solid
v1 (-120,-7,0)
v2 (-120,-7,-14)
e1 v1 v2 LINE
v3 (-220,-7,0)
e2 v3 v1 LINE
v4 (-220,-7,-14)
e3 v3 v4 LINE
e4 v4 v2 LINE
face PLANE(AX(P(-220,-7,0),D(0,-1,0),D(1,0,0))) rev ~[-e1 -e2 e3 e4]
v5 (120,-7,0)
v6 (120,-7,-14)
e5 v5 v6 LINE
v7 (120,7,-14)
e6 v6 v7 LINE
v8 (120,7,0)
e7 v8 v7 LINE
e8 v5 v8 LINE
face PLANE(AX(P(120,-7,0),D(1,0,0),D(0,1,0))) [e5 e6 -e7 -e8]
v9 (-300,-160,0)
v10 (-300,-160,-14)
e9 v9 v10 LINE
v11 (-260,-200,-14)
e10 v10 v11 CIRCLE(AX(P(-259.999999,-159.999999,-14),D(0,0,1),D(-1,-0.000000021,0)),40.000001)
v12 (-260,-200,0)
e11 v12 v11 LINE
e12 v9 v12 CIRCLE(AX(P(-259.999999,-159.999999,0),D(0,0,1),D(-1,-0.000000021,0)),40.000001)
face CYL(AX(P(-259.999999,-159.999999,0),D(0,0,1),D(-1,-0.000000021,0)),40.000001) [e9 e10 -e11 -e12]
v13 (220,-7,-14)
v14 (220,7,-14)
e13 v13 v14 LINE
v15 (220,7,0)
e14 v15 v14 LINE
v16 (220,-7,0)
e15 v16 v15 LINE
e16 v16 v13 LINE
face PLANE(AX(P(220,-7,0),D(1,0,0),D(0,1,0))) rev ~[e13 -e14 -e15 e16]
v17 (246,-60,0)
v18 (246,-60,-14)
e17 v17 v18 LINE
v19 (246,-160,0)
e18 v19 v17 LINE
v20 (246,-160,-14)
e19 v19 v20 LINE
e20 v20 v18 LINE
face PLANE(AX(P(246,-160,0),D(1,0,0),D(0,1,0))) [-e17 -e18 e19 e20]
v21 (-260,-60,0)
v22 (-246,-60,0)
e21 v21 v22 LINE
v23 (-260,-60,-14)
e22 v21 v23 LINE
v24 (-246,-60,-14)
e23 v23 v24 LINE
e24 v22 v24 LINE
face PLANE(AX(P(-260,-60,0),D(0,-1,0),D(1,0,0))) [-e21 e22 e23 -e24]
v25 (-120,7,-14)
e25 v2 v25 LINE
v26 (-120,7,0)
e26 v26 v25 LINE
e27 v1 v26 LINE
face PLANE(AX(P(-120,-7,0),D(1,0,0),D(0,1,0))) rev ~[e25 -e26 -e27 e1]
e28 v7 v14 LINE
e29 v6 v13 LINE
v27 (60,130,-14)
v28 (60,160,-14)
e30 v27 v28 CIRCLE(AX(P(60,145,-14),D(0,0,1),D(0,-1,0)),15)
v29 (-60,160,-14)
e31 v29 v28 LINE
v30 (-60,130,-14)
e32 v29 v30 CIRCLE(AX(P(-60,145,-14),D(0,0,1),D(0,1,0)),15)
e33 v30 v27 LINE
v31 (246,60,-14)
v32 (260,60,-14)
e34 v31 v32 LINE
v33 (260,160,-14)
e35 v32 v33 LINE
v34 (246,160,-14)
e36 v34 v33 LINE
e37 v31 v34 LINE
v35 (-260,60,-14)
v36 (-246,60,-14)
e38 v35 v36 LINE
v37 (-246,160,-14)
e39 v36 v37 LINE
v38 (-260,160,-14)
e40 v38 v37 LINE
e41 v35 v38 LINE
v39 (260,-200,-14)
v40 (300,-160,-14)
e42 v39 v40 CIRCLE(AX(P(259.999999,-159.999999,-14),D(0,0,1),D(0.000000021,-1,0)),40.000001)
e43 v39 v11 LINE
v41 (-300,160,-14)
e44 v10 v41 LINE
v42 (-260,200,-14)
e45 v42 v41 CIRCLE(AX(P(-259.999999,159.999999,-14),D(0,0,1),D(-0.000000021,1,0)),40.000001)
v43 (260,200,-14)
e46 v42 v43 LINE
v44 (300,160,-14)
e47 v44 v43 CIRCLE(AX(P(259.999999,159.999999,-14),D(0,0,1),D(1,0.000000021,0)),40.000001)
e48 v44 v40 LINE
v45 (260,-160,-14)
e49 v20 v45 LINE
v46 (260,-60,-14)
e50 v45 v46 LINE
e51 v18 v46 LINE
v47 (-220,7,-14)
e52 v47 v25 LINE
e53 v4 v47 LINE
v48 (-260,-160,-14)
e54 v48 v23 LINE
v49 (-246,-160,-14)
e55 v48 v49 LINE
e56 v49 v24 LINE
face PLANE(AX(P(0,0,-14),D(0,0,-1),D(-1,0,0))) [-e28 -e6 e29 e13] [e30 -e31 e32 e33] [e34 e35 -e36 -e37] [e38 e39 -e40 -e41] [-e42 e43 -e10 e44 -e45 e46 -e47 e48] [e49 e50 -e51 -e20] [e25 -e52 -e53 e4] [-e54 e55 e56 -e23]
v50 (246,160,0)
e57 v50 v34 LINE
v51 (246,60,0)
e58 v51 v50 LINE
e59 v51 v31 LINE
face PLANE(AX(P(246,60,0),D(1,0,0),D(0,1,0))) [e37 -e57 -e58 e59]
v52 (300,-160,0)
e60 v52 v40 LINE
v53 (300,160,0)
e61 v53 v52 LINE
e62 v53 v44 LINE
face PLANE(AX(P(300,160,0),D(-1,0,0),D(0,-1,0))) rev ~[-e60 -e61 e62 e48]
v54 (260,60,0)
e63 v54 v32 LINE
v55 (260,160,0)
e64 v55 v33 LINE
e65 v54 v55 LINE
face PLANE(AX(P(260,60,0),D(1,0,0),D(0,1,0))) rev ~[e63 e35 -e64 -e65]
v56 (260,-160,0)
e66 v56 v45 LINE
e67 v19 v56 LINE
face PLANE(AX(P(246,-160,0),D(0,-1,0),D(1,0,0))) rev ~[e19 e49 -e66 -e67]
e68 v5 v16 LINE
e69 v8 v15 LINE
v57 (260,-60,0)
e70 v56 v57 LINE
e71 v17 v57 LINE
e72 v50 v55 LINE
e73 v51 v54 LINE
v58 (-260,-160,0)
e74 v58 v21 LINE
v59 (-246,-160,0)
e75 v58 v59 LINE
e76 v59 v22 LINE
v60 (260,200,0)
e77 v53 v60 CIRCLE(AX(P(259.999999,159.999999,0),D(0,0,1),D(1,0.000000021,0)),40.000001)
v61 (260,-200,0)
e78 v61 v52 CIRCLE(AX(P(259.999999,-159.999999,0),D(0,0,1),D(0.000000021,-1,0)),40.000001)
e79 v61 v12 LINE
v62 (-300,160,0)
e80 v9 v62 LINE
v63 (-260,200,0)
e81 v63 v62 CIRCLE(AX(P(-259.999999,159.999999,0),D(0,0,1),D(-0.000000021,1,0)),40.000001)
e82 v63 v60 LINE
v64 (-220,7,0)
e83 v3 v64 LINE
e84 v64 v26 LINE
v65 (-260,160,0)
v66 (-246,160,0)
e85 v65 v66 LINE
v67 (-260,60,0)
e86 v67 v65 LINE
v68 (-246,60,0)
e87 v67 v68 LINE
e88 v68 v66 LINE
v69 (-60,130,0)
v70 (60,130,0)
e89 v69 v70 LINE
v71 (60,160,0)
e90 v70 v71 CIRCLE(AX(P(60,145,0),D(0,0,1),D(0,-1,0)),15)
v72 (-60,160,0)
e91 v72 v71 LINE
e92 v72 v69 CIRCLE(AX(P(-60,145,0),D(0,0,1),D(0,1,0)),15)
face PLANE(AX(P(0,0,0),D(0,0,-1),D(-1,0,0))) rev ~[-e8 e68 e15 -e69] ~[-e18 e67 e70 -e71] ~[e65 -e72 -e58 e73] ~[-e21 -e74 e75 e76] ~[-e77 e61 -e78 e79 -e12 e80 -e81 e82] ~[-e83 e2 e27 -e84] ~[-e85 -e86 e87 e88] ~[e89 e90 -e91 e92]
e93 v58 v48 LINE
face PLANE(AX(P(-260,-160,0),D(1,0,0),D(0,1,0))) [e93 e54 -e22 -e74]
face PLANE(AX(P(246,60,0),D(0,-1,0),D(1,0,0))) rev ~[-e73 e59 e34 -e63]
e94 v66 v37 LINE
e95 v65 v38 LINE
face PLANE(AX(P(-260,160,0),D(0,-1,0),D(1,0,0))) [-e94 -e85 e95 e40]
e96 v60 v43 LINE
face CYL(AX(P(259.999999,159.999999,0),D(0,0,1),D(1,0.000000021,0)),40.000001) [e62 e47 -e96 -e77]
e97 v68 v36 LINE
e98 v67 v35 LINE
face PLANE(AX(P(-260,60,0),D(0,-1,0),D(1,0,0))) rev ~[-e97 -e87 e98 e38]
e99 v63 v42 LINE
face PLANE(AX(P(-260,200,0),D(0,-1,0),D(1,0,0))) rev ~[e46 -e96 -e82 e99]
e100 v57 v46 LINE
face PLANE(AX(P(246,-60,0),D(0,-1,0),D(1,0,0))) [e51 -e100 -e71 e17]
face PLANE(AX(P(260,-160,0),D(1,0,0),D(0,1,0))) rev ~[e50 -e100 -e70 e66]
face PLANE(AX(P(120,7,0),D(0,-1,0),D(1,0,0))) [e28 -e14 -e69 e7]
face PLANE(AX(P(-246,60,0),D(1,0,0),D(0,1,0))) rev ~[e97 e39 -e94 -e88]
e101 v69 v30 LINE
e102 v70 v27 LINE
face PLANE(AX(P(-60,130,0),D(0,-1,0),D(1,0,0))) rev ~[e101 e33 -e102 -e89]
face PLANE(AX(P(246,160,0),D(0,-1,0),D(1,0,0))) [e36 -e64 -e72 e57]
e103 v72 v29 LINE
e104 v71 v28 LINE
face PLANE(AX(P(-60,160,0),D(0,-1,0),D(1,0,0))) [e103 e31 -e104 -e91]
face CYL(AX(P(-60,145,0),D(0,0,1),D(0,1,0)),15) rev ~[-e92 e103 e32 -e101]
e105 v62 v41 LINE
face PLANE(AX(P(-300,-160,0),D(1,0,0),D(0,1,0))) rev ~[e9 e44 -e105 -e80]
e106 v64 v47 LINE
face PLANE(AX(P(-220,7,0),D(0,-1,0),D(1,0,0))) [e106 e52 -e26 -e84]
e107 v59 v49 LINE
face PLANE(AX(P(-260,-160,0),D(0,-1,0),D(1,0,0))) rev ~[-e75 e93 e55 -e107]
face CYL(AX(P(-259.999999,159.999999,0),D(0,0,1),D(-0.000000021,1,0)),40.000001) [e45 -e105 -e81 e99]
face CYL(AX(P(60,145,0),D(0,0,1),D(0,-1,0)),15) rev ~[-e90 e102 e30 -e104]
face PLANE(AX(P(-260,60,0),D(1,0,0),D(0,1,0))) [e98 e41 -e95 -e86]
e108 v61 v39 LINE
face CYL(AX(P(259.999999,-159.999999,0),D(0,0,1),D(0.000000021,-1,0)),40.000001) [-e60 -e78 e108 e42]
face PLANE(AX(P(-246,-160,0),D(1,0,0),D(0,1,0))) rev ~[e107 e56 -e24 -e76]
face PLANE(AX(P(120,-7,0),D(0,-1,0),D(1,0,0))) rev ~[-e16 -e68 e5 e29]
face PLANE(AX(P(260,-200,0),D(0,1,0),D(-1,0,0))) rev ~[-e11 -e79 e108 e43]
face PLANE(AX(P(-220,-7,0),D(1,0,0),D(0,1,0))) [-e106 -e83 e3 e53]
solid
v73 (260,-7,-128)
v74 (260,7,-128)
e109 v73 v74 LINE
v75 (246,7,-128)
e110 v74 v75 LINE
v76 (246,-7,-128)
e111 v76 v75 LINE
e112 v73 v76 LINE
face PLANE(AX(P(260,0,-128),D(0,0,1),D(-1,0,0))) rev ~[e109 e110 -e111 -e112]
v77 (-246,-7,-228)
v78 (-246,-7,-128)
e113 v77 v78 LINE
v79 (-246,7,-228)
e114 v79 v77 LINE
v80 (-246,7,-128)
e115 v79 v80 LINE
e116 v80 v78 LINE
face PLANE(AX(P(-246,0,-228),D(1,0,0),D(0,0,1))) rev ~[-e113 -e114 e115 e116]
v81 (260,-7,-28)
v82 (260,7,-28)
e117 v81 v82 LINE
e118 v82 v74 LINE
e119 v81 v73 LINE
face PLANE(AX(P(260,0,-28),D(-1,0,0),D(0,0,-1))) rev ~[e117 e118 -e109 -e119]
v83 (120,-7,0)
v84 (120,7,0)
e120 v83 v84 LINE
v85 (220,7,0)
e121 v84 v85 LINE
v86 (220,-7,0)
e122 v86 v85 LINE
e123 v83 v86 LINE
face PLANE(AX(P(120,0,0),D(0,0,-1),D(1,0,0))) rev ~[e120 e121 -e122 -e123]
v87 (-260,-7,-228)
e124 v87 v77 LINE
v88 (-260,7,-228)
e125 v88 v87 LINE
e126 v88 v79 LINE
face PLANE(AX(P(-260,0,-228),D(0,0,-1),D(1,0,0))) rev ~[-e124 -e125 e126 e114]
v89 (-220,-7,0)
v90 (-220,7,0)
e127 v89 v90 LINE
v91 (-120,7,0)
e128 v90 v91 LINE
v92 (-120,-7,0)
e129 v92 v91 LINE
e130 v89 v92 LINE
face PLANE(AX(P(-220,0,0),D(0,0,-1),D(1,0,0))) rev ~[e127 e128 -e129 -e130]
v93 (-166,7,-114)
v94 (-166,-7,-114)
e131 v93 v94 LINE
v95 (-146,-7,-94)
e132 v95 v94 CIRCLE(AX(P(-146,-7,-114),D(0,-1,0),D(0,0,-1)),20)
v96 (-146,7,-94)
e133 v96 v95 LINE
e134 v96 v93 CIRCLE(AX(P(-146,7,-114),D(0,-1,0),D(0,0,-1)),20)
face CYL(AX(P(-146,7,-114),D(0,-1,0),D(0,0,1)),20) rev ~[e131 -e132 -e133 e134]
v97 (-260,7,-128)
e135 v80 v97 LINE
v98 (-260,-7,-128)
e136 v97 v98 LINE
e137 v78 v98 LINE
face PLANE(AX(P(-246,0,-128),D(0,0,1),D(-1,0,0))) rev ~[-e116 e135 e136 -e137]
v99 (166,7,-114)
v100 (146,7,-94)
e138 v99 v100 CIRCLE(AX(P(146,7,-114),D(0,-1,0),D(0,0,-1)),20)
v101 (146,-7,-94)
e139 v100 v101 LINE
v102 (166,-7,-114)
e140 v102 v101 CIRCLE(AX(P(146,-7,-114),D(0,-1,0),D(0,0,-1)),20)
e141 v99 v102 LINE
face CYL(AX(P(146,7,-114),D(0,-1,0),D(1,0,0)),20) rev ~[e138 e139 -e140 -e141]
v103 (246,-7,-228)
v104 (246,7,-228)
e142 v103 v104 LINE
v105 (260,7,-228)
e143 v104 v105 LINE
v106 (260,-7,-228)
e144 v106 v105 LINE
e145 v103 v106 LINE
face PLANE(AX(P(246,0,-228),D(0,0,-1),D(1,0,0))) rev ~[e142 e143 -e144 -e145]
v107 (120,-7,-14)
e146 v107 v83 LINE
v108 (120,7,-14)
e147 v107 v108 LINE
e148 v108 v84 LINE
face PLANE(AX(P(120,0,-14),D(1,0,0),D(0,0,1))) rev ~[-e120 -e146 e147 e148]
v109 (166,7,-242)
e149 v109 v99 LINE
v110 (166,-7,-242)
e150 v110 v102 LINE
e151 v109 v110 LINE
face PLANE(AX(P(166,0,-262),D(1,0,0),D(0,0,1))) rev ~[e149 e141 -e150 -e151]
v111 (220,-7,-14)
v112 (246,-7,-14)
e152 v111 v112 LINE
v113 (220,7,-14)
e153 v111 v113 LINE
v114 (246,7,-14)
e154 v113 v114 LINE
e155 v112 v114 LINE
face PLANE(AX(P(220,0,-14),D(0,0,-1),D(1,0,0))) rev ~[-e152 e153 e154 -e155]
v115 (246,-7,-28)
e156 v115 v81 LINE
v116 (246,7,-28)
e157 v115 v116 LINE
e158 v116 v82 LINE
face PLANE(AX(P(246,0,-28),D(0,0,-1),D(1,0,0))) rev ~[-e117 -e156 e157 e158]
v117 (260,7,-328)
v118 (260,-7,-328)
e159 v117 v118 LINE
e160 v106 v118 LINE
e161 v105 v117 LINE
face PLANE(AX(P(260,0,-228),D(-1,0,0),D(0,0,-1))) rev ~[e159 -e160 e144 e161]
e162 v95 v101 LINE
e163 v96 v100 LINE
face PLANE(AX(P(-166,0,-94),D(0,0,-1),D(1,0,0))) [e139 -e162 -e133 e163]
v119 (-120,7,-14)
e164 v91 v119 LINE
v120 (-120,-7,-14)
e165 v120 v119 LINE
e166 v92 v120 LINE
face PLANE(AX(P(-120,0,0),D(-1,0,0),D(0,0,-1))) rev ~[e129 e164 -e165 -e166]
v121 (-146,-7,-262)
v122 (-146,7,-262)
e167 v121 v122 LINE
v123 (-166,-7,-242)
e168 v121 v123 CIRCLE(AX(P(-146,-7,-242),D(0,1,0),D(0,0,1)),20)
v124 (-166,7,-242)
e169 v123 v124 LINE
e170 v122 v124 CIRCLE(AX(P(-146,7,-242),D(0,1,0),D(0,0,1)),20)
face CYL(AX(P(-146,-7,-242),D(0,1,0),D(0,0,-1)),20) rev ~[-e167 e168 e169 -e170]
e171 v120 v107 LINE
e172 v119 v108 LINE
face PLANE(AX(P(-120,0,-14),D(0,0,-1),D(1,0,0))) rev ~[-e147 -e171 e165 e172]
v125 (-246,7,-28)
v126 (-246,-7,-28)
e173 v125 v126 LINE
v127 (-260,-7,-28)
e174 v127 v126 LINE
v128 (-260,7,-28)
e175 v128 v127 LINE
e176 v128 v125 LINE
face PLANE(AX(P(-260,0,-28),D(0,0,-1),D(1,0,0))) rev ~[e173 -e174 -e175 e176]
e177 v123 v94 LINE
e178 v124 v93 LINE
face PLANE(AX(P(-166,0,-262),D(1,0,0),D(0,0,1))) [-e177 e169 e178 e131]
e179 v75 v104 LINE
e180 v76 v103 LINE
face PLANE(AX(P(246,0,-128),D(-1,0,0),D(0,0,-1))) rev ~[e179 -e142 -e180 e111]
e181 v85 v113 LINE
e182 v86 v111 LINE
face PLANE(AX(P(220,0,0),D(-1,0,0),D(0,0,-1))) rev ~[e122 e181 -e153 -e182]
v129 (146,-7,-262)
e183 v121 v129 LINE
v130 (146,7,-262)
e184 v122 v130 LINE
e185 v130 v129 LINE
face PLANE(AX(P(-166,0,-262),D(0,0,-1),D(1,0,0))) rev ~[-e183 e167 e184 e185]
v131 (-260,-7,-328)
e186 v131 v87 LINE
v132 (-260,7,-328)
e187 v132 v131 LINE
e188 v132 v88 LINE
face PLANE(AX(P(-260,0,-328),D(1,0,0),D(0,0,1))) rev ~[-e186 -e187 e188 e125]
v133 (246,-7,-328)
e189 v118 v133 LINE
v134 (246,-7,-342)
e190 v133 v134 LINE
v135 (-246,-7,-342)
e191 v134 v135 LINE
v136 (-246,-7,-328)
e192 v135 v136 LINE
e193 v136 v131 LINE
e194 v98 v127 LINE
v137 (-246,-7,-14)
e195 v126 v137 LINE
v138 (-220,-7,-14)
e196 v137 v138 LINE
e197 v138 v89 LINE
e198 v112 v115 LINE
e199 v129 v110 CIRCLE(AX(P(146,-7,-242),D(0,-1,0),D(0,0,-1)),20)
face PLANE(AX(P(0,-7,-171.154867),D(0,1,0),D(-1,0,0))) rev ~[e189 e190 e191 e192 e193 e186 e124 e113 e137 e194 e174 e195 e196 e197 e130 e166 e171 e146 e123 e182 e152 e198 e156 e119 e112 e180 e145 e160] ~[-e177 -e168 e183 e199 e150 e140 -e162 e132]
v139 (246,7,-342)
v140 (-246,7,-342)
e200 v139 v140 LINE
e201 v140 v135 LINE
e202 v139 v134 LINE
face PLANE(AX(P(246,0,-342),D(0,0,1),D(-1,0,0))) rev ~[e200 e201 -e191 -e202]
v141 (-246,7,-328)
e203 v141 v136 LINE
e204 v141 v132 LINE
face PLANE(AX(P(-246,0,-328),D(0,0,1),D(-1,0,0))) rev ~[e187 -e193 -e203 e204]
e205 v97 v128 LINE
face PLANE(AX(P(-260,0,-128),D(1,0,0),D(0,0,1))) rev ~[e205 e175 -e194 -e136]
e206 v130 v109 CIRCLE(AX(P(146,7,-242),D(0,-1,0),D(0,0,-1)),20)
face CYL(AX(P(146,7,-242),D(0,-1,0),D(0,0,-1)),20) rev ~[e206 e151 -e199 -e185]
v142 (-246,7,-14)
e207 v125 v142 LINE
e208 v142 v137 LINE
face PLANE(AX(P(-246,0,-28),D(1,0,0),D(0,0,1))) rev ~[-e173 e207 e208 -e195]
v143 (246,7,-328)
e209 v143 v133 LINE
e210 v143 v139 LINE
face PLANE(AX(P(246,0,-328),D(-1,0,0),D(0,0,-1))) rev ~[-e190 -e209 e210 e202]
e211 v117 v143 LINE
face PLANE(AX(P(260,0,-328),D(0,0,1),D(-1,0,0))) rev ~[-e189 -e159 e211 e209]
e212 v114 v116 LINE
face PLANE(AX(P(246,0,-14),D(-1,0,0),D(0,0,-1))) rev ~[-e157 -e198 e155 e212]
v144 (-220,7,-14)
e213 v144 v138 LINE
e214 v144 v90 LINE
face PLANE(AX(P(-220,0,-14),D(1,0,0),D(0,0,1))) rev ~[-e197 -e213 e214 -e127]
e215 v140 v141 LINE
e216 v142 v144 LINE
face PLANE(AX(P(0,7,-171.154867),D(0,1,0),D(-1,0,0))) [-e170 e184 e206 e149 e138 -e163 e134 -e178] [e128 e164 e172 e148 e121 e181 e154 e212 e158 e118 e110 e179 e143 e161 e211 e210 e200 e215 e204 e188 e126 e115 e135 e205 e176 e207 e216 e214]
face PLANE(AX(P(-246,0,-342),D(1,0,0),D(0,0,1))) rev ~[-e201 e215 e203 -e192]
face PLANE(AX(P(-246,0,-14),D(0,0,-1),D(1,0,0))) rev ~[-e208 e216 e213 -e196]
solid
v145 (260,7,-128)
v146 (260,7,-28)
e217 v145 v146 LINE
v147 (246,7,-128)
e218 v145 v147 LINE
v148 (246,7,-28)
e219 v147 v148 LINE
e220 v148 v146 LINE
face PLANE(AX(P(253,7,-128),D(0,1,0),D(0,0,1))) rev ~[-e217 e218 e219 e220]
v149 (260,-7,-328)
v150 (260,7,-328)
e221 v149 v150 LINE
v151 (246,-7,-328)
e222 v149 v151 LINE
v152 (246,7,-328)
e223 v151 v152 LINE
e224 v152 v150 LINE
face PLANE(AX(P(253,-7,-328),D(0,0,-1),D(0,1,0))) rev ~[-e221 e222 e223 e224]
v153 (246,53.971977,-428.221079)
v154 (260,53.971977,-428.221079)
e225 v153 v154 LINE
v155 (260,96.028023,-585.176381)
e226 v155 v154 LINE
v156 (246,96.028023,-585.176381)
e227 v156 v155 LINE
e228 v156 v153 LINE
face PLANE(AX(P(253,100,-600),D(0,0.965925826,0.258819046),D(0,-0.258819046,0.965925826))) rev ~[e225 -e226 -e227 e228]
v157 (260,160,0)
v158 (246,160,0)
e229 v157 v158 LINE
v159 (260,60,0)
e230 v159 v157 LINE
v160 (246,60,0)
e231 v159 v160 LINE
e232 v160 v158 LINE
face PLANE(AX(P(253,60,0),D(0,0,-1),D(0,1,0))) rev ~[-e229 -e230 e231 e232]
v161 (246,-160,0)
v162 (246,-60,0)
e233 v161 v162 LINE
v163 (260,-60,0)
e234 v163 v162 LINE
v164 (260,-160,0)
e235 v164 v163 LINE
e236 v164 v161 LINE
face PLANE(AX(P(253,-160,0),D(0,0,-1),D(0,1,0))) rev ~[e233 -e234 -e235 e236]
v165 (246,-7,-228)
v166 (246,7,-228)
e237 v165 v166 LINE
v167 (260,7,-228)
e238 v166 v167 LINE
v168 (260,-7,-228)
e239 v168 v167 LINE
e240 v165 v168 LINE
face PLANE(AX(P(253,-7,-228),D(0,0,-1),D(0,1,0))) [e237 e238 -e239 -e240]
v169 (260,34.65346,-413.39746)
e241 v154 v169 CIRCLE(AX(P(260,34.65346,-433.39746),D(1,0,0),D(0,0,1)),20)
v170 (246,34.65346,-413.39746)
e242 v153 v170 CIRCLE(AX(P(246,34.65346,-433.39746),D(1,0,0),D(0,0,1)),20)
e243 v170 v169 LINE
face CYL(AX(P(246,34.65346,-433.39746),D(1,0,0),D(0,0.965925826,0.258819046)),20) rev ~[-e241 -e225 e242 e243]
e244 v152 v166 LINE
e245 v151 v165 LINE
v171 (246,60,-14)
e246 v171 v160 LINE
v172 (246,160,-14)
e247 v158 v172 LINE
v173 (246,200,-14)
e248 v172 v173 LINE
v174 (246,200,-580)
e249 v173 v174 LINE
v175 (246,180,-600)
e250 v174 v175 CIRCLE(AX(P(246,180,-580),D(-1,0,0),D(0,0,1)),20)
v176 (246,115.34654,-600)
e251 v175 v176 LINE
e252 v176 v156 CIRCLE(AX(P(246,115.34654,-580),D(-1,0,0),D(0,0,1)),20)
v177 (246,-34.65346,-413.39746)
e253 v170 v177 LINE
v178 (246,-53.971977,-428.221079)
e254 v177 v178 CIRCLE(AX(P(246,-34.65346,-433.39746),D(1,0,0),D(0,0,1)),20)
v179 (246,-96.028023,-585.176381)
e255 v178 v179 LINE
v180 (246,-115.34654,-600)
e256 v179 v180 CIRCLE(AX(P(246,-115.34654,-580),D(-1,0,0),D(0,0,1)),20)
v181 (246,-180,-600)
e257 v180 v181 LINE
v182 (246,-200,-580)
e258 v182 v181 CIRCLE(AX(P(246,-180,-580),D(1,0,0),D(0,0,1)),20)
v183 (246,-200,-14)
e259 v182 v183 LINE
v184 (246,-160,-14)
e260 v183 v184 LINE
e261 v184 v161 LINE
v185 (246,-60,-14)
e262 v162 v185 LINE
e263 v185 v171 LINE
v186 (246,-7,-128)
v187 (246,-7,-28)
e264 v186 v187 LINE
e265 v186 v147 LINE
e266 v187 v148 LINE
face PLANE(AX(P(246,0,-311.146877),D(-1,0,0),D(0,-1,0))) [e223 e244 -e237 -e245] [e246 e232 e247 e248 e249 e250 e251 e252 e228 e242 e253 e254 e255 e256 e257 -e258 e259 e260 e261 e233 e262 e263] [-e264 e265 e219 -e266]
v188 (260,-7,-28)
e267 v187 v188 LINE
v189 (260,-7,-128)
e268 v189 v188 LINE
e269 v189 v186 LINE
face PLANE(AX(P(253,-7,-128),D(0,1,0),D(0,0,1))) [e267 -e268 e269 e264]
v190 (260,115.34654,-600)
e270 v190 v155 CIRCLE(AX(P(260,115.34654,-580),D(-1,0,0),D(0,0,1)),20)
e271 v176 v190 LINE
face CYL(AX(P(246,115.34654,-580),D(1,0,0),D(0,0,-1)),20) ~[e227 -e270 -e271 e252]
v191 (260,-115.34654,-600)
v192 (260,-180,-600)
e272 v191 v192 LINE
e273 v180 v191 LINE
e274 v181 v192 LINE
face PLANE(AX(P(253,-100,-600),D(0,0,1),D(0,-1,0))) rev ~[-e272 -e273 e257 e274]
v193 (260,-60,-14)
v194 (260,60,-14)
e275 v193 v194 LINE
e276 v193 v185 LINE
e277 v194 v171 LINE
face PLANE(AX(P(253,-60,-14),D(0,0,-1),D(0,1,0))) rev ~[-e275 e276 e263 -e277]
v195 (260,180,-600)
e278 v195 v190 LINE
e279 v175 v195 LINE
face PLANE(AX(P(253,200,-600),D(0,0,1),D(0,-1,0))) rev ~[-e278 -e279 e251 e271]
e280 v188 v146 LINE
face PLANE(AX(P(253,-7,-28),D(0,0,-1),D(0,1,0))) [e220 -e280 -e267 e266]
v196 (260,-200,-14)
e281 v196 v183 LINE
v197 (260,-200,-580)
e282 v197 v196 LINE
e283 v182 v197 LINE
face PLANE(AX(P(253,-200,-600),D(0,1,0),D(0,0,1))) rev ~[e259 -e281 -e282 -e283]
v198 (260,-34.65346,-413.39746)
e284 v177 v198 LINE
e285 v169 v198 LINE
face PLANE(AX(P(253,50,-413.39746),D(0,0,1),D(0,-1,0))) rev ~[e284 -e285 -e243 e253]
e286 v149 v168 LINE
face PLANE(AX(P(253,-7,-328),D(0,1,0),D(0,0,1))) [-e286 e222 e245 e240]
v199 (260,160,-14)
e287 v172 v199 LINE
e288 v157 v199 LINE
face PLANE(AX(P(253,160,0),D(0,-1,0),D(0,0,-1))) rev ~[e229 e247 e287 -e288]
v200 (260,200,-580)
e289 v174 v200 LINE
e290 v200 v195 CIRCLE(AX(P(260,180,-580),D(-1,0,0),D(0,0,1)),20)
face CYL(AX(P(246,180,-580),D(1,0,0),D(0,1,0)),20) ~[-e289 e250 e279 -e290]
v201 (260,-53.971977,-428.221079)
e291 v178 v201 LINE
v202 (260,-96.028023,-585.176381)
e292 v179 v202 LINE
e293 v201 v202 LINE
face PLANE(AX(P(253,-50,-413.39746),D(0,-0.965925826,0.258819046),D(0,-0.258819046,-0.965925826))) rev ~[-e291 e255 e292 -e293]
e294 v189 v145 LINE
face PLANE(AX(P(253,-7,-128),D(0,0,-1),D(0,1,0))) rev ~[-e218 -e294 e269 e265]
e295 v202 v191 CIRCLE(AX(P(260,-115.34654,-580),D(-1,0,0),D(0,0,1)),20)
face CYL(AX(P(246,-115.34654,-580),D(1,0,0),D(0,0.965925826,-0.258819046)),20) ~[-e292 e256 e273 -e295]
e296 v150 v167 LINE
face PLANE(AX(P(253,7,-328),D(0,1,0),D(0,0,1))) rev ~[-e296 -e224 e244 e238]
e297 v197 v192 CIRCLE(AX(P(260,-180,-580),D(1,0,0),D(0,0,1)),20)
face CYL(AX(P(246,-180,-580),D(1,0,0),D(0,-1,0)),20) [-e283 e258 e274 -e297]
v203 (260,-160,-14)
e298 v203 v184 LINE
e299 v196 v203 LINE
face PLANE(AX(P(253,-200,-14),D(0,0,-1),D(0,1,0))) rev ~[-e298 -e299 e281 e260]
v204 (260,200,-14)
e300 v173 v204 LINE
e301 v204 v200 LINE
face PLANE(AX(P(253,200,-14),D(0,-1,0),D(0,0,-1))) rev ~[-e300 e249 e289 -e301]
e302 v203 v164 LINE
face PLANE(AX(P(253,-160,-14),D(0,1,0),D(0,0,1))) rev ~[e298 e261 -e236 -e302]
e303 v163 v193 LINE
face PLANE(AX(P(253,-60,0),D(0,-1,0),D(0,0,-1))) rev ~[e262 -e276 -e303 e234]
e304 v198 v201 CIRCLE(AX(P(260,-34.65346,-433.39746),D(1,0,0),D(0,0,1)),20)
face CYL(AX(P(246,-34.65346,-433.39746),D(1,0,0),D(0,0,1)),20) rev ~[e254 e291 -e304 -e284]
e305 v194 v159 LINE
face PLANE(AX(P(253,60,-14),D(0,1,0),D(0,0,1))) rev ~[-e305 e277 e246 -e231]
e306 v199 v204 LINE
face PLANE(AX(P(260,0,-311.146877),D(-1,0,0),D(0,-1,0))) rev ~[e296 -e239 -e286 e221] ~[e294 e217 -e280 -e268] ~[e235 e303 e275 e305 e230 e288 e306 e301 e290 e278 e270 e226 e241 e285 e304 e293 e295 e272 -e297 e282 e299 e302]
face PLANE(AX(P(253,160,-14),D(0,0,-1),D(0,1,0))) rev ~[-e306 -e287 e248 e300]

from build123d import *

# Parameters (mm, degrees)
SKETCH_W     = 14
SKETCH_H     = 100
SKETCH_W_2   = 100
SKETCH_H_2   = 14
PAD_DEPTH    = 14
SKETCH001_W  = 14
SKETCH001_H  = 100
PAD001_DEPTH = 7
FILLET_R     = 20
SKETCH002_W  = 332
SKETCH002_H  = 168
PAD002_DEPTH = 7
FILLET001_R  = 20


with BuildPart() as seat:
    # Sketch → Pad (new body)
    with BuildSketch(Plane.XY):
        with BuildLine():
            Line((-260, 200), (260, 200))
            ThreePointArc((300, 160), (288.284271, 188.284271), (260, 200))
            Line((300, 160), (300, -160))
            ThreePointArc((260, -200), (288.284271, -188.284271), (300, -160))
            Line((260, -200), (-260, -200))
            ThreePointArc((-300, -160), (-288.284271, -188.284271), (-260, -200))
            Line((-300, -160), (-300, 160))
            ThreePointArc((-260, 200), (-288.284271, 188.284271), (-300, 160))
        make_face()
        with BuildLine():
            ThreePointArc((-60, 160), (-75, 145), (-60, 130))
            Line((-60, 130), (60, 130))
            ThreePointArc((60, 130), (75, 145), (60, 160))
            Line((-60, 160), (60, 160))
        make_face(mode=Mode.SUBTRACT)
        with Locations((-253, 110)):
            Rectangle(SKETCH_W, SKETCH_H, mode=Mode.SUBTRACT)
        with Locations((-253, -110)):
            Rectangle(SKETCH_W, SKETCH_H, mode=Mode.SUBTRACT)
        with Locations((253, 110)):
            Rectangle(SKETCH_W, SKETCH_H, mode=Mode.SUBTRACT)
        with Locations((253, -110)):
            Rectangle(SKETCH_W, SKETCH_H, mode=Mode.SUBTRACT)
        with Locations((-170, 0)):
            Rectangle(SKETCH_W_2, SKETCH_H_2, mode=Mode.SUBTRACT)
        with Locations((170, 0)):
            Rectangle(SKETCH_W_2, SKETCH_H_2, mode=Mode.SUBTRACT)
    extrude(amount=-PAD_DEPTH)


with BuildPart() as body002:
    # Sketch001 → Pad001 (new body, symmetric)
    with BuildSketch(Plane.YZ):
        Polygon((-200, -600), (-200, -14), (-160, -14), (-160, 0), (-60, 0), (-60, -14), (60, -14), (60, 0), (160, 0), (160, -14), (200, -14), (200, -600), (100, -600), (50, -413.39746), (-50, -413.39746), (-100, -600), align=None)
        with Locations((0, -78)):
            Rectangle(SKETCH001_W, SKETCH001_H, mode=Mode.SUBTRACT)
        with Locations((0, -278)):
            Rectangle(SKETCH001_W, SKETCH001_H, mode=Mode.SUBTRACT)
    extrude(amount=PAD001_DEPTH, both=True)

    # Fillet
    fillet_edges = [body002.edges().sort_by_distance(p)[0] for p in [
        (0, 100, -600),
        (0, 200, -600),
        (0, 50, -413.39746),
        (0, -50, -413.39746),
        (0, -100, -600),
        (0, -200, -600),
    ]]
    fillet(fillet_edges, radius=FILLET_R)


with BuildPart() as body002_1:
    # Body001 placement: moved
    add(body002.part.moved(Location((-253, 0, 0))))


with BuildPart() as body002_2:
    # Clone placement: moved
    add(body002_1.part.moved(Location((253, 0, 0))))


with BuildPart() as body002_3:
    # Body002 placement: moved
    add(body002_2.part.moved(Location((253, 0, 0))))


with BuildPart() as structure:
    # Sketch002 → Pad002 (new body, symmetric)
    with BuildSketch(Plane.XZ):
        Polygon((-220, -14), (-220, 0), (-120, 0), (-120, -14), (120, -14), (120, 0), (220, 0), (220, -14), (246, -14), (246, -28), (260, -28), (260, -128), (246, -128), (246, -228), (260, -228), (260, -328), (246, -328), (246, -342), (-246, -342), (-246, -328), (-260, -328), (-260, -228), (-246, -228), (-246, -128), (-260, -128), (-260, -28), (-246, -28), (-246, -14), align=None)
        with Locations((0, -178)):
            Rectangle(SKETCH002_W, SKETCH002_H, mode=Mode.SUBTRACT)
    extrude(amount=PAD002_DEPTH, both=True)

    # Fillet001
    fillet001_edges = [structure.edges().sort_by_distance(p)[0] for p in [
        (-166, 0, -94),
        (166, 0, -94),
        (166, 0, -262),
        (-166, 0, -262),
    ]]
    fillet(fillet001_edges, radius=FILLET001_R)


solid = Compound([seat.part, body002_3.part, structure.part])
